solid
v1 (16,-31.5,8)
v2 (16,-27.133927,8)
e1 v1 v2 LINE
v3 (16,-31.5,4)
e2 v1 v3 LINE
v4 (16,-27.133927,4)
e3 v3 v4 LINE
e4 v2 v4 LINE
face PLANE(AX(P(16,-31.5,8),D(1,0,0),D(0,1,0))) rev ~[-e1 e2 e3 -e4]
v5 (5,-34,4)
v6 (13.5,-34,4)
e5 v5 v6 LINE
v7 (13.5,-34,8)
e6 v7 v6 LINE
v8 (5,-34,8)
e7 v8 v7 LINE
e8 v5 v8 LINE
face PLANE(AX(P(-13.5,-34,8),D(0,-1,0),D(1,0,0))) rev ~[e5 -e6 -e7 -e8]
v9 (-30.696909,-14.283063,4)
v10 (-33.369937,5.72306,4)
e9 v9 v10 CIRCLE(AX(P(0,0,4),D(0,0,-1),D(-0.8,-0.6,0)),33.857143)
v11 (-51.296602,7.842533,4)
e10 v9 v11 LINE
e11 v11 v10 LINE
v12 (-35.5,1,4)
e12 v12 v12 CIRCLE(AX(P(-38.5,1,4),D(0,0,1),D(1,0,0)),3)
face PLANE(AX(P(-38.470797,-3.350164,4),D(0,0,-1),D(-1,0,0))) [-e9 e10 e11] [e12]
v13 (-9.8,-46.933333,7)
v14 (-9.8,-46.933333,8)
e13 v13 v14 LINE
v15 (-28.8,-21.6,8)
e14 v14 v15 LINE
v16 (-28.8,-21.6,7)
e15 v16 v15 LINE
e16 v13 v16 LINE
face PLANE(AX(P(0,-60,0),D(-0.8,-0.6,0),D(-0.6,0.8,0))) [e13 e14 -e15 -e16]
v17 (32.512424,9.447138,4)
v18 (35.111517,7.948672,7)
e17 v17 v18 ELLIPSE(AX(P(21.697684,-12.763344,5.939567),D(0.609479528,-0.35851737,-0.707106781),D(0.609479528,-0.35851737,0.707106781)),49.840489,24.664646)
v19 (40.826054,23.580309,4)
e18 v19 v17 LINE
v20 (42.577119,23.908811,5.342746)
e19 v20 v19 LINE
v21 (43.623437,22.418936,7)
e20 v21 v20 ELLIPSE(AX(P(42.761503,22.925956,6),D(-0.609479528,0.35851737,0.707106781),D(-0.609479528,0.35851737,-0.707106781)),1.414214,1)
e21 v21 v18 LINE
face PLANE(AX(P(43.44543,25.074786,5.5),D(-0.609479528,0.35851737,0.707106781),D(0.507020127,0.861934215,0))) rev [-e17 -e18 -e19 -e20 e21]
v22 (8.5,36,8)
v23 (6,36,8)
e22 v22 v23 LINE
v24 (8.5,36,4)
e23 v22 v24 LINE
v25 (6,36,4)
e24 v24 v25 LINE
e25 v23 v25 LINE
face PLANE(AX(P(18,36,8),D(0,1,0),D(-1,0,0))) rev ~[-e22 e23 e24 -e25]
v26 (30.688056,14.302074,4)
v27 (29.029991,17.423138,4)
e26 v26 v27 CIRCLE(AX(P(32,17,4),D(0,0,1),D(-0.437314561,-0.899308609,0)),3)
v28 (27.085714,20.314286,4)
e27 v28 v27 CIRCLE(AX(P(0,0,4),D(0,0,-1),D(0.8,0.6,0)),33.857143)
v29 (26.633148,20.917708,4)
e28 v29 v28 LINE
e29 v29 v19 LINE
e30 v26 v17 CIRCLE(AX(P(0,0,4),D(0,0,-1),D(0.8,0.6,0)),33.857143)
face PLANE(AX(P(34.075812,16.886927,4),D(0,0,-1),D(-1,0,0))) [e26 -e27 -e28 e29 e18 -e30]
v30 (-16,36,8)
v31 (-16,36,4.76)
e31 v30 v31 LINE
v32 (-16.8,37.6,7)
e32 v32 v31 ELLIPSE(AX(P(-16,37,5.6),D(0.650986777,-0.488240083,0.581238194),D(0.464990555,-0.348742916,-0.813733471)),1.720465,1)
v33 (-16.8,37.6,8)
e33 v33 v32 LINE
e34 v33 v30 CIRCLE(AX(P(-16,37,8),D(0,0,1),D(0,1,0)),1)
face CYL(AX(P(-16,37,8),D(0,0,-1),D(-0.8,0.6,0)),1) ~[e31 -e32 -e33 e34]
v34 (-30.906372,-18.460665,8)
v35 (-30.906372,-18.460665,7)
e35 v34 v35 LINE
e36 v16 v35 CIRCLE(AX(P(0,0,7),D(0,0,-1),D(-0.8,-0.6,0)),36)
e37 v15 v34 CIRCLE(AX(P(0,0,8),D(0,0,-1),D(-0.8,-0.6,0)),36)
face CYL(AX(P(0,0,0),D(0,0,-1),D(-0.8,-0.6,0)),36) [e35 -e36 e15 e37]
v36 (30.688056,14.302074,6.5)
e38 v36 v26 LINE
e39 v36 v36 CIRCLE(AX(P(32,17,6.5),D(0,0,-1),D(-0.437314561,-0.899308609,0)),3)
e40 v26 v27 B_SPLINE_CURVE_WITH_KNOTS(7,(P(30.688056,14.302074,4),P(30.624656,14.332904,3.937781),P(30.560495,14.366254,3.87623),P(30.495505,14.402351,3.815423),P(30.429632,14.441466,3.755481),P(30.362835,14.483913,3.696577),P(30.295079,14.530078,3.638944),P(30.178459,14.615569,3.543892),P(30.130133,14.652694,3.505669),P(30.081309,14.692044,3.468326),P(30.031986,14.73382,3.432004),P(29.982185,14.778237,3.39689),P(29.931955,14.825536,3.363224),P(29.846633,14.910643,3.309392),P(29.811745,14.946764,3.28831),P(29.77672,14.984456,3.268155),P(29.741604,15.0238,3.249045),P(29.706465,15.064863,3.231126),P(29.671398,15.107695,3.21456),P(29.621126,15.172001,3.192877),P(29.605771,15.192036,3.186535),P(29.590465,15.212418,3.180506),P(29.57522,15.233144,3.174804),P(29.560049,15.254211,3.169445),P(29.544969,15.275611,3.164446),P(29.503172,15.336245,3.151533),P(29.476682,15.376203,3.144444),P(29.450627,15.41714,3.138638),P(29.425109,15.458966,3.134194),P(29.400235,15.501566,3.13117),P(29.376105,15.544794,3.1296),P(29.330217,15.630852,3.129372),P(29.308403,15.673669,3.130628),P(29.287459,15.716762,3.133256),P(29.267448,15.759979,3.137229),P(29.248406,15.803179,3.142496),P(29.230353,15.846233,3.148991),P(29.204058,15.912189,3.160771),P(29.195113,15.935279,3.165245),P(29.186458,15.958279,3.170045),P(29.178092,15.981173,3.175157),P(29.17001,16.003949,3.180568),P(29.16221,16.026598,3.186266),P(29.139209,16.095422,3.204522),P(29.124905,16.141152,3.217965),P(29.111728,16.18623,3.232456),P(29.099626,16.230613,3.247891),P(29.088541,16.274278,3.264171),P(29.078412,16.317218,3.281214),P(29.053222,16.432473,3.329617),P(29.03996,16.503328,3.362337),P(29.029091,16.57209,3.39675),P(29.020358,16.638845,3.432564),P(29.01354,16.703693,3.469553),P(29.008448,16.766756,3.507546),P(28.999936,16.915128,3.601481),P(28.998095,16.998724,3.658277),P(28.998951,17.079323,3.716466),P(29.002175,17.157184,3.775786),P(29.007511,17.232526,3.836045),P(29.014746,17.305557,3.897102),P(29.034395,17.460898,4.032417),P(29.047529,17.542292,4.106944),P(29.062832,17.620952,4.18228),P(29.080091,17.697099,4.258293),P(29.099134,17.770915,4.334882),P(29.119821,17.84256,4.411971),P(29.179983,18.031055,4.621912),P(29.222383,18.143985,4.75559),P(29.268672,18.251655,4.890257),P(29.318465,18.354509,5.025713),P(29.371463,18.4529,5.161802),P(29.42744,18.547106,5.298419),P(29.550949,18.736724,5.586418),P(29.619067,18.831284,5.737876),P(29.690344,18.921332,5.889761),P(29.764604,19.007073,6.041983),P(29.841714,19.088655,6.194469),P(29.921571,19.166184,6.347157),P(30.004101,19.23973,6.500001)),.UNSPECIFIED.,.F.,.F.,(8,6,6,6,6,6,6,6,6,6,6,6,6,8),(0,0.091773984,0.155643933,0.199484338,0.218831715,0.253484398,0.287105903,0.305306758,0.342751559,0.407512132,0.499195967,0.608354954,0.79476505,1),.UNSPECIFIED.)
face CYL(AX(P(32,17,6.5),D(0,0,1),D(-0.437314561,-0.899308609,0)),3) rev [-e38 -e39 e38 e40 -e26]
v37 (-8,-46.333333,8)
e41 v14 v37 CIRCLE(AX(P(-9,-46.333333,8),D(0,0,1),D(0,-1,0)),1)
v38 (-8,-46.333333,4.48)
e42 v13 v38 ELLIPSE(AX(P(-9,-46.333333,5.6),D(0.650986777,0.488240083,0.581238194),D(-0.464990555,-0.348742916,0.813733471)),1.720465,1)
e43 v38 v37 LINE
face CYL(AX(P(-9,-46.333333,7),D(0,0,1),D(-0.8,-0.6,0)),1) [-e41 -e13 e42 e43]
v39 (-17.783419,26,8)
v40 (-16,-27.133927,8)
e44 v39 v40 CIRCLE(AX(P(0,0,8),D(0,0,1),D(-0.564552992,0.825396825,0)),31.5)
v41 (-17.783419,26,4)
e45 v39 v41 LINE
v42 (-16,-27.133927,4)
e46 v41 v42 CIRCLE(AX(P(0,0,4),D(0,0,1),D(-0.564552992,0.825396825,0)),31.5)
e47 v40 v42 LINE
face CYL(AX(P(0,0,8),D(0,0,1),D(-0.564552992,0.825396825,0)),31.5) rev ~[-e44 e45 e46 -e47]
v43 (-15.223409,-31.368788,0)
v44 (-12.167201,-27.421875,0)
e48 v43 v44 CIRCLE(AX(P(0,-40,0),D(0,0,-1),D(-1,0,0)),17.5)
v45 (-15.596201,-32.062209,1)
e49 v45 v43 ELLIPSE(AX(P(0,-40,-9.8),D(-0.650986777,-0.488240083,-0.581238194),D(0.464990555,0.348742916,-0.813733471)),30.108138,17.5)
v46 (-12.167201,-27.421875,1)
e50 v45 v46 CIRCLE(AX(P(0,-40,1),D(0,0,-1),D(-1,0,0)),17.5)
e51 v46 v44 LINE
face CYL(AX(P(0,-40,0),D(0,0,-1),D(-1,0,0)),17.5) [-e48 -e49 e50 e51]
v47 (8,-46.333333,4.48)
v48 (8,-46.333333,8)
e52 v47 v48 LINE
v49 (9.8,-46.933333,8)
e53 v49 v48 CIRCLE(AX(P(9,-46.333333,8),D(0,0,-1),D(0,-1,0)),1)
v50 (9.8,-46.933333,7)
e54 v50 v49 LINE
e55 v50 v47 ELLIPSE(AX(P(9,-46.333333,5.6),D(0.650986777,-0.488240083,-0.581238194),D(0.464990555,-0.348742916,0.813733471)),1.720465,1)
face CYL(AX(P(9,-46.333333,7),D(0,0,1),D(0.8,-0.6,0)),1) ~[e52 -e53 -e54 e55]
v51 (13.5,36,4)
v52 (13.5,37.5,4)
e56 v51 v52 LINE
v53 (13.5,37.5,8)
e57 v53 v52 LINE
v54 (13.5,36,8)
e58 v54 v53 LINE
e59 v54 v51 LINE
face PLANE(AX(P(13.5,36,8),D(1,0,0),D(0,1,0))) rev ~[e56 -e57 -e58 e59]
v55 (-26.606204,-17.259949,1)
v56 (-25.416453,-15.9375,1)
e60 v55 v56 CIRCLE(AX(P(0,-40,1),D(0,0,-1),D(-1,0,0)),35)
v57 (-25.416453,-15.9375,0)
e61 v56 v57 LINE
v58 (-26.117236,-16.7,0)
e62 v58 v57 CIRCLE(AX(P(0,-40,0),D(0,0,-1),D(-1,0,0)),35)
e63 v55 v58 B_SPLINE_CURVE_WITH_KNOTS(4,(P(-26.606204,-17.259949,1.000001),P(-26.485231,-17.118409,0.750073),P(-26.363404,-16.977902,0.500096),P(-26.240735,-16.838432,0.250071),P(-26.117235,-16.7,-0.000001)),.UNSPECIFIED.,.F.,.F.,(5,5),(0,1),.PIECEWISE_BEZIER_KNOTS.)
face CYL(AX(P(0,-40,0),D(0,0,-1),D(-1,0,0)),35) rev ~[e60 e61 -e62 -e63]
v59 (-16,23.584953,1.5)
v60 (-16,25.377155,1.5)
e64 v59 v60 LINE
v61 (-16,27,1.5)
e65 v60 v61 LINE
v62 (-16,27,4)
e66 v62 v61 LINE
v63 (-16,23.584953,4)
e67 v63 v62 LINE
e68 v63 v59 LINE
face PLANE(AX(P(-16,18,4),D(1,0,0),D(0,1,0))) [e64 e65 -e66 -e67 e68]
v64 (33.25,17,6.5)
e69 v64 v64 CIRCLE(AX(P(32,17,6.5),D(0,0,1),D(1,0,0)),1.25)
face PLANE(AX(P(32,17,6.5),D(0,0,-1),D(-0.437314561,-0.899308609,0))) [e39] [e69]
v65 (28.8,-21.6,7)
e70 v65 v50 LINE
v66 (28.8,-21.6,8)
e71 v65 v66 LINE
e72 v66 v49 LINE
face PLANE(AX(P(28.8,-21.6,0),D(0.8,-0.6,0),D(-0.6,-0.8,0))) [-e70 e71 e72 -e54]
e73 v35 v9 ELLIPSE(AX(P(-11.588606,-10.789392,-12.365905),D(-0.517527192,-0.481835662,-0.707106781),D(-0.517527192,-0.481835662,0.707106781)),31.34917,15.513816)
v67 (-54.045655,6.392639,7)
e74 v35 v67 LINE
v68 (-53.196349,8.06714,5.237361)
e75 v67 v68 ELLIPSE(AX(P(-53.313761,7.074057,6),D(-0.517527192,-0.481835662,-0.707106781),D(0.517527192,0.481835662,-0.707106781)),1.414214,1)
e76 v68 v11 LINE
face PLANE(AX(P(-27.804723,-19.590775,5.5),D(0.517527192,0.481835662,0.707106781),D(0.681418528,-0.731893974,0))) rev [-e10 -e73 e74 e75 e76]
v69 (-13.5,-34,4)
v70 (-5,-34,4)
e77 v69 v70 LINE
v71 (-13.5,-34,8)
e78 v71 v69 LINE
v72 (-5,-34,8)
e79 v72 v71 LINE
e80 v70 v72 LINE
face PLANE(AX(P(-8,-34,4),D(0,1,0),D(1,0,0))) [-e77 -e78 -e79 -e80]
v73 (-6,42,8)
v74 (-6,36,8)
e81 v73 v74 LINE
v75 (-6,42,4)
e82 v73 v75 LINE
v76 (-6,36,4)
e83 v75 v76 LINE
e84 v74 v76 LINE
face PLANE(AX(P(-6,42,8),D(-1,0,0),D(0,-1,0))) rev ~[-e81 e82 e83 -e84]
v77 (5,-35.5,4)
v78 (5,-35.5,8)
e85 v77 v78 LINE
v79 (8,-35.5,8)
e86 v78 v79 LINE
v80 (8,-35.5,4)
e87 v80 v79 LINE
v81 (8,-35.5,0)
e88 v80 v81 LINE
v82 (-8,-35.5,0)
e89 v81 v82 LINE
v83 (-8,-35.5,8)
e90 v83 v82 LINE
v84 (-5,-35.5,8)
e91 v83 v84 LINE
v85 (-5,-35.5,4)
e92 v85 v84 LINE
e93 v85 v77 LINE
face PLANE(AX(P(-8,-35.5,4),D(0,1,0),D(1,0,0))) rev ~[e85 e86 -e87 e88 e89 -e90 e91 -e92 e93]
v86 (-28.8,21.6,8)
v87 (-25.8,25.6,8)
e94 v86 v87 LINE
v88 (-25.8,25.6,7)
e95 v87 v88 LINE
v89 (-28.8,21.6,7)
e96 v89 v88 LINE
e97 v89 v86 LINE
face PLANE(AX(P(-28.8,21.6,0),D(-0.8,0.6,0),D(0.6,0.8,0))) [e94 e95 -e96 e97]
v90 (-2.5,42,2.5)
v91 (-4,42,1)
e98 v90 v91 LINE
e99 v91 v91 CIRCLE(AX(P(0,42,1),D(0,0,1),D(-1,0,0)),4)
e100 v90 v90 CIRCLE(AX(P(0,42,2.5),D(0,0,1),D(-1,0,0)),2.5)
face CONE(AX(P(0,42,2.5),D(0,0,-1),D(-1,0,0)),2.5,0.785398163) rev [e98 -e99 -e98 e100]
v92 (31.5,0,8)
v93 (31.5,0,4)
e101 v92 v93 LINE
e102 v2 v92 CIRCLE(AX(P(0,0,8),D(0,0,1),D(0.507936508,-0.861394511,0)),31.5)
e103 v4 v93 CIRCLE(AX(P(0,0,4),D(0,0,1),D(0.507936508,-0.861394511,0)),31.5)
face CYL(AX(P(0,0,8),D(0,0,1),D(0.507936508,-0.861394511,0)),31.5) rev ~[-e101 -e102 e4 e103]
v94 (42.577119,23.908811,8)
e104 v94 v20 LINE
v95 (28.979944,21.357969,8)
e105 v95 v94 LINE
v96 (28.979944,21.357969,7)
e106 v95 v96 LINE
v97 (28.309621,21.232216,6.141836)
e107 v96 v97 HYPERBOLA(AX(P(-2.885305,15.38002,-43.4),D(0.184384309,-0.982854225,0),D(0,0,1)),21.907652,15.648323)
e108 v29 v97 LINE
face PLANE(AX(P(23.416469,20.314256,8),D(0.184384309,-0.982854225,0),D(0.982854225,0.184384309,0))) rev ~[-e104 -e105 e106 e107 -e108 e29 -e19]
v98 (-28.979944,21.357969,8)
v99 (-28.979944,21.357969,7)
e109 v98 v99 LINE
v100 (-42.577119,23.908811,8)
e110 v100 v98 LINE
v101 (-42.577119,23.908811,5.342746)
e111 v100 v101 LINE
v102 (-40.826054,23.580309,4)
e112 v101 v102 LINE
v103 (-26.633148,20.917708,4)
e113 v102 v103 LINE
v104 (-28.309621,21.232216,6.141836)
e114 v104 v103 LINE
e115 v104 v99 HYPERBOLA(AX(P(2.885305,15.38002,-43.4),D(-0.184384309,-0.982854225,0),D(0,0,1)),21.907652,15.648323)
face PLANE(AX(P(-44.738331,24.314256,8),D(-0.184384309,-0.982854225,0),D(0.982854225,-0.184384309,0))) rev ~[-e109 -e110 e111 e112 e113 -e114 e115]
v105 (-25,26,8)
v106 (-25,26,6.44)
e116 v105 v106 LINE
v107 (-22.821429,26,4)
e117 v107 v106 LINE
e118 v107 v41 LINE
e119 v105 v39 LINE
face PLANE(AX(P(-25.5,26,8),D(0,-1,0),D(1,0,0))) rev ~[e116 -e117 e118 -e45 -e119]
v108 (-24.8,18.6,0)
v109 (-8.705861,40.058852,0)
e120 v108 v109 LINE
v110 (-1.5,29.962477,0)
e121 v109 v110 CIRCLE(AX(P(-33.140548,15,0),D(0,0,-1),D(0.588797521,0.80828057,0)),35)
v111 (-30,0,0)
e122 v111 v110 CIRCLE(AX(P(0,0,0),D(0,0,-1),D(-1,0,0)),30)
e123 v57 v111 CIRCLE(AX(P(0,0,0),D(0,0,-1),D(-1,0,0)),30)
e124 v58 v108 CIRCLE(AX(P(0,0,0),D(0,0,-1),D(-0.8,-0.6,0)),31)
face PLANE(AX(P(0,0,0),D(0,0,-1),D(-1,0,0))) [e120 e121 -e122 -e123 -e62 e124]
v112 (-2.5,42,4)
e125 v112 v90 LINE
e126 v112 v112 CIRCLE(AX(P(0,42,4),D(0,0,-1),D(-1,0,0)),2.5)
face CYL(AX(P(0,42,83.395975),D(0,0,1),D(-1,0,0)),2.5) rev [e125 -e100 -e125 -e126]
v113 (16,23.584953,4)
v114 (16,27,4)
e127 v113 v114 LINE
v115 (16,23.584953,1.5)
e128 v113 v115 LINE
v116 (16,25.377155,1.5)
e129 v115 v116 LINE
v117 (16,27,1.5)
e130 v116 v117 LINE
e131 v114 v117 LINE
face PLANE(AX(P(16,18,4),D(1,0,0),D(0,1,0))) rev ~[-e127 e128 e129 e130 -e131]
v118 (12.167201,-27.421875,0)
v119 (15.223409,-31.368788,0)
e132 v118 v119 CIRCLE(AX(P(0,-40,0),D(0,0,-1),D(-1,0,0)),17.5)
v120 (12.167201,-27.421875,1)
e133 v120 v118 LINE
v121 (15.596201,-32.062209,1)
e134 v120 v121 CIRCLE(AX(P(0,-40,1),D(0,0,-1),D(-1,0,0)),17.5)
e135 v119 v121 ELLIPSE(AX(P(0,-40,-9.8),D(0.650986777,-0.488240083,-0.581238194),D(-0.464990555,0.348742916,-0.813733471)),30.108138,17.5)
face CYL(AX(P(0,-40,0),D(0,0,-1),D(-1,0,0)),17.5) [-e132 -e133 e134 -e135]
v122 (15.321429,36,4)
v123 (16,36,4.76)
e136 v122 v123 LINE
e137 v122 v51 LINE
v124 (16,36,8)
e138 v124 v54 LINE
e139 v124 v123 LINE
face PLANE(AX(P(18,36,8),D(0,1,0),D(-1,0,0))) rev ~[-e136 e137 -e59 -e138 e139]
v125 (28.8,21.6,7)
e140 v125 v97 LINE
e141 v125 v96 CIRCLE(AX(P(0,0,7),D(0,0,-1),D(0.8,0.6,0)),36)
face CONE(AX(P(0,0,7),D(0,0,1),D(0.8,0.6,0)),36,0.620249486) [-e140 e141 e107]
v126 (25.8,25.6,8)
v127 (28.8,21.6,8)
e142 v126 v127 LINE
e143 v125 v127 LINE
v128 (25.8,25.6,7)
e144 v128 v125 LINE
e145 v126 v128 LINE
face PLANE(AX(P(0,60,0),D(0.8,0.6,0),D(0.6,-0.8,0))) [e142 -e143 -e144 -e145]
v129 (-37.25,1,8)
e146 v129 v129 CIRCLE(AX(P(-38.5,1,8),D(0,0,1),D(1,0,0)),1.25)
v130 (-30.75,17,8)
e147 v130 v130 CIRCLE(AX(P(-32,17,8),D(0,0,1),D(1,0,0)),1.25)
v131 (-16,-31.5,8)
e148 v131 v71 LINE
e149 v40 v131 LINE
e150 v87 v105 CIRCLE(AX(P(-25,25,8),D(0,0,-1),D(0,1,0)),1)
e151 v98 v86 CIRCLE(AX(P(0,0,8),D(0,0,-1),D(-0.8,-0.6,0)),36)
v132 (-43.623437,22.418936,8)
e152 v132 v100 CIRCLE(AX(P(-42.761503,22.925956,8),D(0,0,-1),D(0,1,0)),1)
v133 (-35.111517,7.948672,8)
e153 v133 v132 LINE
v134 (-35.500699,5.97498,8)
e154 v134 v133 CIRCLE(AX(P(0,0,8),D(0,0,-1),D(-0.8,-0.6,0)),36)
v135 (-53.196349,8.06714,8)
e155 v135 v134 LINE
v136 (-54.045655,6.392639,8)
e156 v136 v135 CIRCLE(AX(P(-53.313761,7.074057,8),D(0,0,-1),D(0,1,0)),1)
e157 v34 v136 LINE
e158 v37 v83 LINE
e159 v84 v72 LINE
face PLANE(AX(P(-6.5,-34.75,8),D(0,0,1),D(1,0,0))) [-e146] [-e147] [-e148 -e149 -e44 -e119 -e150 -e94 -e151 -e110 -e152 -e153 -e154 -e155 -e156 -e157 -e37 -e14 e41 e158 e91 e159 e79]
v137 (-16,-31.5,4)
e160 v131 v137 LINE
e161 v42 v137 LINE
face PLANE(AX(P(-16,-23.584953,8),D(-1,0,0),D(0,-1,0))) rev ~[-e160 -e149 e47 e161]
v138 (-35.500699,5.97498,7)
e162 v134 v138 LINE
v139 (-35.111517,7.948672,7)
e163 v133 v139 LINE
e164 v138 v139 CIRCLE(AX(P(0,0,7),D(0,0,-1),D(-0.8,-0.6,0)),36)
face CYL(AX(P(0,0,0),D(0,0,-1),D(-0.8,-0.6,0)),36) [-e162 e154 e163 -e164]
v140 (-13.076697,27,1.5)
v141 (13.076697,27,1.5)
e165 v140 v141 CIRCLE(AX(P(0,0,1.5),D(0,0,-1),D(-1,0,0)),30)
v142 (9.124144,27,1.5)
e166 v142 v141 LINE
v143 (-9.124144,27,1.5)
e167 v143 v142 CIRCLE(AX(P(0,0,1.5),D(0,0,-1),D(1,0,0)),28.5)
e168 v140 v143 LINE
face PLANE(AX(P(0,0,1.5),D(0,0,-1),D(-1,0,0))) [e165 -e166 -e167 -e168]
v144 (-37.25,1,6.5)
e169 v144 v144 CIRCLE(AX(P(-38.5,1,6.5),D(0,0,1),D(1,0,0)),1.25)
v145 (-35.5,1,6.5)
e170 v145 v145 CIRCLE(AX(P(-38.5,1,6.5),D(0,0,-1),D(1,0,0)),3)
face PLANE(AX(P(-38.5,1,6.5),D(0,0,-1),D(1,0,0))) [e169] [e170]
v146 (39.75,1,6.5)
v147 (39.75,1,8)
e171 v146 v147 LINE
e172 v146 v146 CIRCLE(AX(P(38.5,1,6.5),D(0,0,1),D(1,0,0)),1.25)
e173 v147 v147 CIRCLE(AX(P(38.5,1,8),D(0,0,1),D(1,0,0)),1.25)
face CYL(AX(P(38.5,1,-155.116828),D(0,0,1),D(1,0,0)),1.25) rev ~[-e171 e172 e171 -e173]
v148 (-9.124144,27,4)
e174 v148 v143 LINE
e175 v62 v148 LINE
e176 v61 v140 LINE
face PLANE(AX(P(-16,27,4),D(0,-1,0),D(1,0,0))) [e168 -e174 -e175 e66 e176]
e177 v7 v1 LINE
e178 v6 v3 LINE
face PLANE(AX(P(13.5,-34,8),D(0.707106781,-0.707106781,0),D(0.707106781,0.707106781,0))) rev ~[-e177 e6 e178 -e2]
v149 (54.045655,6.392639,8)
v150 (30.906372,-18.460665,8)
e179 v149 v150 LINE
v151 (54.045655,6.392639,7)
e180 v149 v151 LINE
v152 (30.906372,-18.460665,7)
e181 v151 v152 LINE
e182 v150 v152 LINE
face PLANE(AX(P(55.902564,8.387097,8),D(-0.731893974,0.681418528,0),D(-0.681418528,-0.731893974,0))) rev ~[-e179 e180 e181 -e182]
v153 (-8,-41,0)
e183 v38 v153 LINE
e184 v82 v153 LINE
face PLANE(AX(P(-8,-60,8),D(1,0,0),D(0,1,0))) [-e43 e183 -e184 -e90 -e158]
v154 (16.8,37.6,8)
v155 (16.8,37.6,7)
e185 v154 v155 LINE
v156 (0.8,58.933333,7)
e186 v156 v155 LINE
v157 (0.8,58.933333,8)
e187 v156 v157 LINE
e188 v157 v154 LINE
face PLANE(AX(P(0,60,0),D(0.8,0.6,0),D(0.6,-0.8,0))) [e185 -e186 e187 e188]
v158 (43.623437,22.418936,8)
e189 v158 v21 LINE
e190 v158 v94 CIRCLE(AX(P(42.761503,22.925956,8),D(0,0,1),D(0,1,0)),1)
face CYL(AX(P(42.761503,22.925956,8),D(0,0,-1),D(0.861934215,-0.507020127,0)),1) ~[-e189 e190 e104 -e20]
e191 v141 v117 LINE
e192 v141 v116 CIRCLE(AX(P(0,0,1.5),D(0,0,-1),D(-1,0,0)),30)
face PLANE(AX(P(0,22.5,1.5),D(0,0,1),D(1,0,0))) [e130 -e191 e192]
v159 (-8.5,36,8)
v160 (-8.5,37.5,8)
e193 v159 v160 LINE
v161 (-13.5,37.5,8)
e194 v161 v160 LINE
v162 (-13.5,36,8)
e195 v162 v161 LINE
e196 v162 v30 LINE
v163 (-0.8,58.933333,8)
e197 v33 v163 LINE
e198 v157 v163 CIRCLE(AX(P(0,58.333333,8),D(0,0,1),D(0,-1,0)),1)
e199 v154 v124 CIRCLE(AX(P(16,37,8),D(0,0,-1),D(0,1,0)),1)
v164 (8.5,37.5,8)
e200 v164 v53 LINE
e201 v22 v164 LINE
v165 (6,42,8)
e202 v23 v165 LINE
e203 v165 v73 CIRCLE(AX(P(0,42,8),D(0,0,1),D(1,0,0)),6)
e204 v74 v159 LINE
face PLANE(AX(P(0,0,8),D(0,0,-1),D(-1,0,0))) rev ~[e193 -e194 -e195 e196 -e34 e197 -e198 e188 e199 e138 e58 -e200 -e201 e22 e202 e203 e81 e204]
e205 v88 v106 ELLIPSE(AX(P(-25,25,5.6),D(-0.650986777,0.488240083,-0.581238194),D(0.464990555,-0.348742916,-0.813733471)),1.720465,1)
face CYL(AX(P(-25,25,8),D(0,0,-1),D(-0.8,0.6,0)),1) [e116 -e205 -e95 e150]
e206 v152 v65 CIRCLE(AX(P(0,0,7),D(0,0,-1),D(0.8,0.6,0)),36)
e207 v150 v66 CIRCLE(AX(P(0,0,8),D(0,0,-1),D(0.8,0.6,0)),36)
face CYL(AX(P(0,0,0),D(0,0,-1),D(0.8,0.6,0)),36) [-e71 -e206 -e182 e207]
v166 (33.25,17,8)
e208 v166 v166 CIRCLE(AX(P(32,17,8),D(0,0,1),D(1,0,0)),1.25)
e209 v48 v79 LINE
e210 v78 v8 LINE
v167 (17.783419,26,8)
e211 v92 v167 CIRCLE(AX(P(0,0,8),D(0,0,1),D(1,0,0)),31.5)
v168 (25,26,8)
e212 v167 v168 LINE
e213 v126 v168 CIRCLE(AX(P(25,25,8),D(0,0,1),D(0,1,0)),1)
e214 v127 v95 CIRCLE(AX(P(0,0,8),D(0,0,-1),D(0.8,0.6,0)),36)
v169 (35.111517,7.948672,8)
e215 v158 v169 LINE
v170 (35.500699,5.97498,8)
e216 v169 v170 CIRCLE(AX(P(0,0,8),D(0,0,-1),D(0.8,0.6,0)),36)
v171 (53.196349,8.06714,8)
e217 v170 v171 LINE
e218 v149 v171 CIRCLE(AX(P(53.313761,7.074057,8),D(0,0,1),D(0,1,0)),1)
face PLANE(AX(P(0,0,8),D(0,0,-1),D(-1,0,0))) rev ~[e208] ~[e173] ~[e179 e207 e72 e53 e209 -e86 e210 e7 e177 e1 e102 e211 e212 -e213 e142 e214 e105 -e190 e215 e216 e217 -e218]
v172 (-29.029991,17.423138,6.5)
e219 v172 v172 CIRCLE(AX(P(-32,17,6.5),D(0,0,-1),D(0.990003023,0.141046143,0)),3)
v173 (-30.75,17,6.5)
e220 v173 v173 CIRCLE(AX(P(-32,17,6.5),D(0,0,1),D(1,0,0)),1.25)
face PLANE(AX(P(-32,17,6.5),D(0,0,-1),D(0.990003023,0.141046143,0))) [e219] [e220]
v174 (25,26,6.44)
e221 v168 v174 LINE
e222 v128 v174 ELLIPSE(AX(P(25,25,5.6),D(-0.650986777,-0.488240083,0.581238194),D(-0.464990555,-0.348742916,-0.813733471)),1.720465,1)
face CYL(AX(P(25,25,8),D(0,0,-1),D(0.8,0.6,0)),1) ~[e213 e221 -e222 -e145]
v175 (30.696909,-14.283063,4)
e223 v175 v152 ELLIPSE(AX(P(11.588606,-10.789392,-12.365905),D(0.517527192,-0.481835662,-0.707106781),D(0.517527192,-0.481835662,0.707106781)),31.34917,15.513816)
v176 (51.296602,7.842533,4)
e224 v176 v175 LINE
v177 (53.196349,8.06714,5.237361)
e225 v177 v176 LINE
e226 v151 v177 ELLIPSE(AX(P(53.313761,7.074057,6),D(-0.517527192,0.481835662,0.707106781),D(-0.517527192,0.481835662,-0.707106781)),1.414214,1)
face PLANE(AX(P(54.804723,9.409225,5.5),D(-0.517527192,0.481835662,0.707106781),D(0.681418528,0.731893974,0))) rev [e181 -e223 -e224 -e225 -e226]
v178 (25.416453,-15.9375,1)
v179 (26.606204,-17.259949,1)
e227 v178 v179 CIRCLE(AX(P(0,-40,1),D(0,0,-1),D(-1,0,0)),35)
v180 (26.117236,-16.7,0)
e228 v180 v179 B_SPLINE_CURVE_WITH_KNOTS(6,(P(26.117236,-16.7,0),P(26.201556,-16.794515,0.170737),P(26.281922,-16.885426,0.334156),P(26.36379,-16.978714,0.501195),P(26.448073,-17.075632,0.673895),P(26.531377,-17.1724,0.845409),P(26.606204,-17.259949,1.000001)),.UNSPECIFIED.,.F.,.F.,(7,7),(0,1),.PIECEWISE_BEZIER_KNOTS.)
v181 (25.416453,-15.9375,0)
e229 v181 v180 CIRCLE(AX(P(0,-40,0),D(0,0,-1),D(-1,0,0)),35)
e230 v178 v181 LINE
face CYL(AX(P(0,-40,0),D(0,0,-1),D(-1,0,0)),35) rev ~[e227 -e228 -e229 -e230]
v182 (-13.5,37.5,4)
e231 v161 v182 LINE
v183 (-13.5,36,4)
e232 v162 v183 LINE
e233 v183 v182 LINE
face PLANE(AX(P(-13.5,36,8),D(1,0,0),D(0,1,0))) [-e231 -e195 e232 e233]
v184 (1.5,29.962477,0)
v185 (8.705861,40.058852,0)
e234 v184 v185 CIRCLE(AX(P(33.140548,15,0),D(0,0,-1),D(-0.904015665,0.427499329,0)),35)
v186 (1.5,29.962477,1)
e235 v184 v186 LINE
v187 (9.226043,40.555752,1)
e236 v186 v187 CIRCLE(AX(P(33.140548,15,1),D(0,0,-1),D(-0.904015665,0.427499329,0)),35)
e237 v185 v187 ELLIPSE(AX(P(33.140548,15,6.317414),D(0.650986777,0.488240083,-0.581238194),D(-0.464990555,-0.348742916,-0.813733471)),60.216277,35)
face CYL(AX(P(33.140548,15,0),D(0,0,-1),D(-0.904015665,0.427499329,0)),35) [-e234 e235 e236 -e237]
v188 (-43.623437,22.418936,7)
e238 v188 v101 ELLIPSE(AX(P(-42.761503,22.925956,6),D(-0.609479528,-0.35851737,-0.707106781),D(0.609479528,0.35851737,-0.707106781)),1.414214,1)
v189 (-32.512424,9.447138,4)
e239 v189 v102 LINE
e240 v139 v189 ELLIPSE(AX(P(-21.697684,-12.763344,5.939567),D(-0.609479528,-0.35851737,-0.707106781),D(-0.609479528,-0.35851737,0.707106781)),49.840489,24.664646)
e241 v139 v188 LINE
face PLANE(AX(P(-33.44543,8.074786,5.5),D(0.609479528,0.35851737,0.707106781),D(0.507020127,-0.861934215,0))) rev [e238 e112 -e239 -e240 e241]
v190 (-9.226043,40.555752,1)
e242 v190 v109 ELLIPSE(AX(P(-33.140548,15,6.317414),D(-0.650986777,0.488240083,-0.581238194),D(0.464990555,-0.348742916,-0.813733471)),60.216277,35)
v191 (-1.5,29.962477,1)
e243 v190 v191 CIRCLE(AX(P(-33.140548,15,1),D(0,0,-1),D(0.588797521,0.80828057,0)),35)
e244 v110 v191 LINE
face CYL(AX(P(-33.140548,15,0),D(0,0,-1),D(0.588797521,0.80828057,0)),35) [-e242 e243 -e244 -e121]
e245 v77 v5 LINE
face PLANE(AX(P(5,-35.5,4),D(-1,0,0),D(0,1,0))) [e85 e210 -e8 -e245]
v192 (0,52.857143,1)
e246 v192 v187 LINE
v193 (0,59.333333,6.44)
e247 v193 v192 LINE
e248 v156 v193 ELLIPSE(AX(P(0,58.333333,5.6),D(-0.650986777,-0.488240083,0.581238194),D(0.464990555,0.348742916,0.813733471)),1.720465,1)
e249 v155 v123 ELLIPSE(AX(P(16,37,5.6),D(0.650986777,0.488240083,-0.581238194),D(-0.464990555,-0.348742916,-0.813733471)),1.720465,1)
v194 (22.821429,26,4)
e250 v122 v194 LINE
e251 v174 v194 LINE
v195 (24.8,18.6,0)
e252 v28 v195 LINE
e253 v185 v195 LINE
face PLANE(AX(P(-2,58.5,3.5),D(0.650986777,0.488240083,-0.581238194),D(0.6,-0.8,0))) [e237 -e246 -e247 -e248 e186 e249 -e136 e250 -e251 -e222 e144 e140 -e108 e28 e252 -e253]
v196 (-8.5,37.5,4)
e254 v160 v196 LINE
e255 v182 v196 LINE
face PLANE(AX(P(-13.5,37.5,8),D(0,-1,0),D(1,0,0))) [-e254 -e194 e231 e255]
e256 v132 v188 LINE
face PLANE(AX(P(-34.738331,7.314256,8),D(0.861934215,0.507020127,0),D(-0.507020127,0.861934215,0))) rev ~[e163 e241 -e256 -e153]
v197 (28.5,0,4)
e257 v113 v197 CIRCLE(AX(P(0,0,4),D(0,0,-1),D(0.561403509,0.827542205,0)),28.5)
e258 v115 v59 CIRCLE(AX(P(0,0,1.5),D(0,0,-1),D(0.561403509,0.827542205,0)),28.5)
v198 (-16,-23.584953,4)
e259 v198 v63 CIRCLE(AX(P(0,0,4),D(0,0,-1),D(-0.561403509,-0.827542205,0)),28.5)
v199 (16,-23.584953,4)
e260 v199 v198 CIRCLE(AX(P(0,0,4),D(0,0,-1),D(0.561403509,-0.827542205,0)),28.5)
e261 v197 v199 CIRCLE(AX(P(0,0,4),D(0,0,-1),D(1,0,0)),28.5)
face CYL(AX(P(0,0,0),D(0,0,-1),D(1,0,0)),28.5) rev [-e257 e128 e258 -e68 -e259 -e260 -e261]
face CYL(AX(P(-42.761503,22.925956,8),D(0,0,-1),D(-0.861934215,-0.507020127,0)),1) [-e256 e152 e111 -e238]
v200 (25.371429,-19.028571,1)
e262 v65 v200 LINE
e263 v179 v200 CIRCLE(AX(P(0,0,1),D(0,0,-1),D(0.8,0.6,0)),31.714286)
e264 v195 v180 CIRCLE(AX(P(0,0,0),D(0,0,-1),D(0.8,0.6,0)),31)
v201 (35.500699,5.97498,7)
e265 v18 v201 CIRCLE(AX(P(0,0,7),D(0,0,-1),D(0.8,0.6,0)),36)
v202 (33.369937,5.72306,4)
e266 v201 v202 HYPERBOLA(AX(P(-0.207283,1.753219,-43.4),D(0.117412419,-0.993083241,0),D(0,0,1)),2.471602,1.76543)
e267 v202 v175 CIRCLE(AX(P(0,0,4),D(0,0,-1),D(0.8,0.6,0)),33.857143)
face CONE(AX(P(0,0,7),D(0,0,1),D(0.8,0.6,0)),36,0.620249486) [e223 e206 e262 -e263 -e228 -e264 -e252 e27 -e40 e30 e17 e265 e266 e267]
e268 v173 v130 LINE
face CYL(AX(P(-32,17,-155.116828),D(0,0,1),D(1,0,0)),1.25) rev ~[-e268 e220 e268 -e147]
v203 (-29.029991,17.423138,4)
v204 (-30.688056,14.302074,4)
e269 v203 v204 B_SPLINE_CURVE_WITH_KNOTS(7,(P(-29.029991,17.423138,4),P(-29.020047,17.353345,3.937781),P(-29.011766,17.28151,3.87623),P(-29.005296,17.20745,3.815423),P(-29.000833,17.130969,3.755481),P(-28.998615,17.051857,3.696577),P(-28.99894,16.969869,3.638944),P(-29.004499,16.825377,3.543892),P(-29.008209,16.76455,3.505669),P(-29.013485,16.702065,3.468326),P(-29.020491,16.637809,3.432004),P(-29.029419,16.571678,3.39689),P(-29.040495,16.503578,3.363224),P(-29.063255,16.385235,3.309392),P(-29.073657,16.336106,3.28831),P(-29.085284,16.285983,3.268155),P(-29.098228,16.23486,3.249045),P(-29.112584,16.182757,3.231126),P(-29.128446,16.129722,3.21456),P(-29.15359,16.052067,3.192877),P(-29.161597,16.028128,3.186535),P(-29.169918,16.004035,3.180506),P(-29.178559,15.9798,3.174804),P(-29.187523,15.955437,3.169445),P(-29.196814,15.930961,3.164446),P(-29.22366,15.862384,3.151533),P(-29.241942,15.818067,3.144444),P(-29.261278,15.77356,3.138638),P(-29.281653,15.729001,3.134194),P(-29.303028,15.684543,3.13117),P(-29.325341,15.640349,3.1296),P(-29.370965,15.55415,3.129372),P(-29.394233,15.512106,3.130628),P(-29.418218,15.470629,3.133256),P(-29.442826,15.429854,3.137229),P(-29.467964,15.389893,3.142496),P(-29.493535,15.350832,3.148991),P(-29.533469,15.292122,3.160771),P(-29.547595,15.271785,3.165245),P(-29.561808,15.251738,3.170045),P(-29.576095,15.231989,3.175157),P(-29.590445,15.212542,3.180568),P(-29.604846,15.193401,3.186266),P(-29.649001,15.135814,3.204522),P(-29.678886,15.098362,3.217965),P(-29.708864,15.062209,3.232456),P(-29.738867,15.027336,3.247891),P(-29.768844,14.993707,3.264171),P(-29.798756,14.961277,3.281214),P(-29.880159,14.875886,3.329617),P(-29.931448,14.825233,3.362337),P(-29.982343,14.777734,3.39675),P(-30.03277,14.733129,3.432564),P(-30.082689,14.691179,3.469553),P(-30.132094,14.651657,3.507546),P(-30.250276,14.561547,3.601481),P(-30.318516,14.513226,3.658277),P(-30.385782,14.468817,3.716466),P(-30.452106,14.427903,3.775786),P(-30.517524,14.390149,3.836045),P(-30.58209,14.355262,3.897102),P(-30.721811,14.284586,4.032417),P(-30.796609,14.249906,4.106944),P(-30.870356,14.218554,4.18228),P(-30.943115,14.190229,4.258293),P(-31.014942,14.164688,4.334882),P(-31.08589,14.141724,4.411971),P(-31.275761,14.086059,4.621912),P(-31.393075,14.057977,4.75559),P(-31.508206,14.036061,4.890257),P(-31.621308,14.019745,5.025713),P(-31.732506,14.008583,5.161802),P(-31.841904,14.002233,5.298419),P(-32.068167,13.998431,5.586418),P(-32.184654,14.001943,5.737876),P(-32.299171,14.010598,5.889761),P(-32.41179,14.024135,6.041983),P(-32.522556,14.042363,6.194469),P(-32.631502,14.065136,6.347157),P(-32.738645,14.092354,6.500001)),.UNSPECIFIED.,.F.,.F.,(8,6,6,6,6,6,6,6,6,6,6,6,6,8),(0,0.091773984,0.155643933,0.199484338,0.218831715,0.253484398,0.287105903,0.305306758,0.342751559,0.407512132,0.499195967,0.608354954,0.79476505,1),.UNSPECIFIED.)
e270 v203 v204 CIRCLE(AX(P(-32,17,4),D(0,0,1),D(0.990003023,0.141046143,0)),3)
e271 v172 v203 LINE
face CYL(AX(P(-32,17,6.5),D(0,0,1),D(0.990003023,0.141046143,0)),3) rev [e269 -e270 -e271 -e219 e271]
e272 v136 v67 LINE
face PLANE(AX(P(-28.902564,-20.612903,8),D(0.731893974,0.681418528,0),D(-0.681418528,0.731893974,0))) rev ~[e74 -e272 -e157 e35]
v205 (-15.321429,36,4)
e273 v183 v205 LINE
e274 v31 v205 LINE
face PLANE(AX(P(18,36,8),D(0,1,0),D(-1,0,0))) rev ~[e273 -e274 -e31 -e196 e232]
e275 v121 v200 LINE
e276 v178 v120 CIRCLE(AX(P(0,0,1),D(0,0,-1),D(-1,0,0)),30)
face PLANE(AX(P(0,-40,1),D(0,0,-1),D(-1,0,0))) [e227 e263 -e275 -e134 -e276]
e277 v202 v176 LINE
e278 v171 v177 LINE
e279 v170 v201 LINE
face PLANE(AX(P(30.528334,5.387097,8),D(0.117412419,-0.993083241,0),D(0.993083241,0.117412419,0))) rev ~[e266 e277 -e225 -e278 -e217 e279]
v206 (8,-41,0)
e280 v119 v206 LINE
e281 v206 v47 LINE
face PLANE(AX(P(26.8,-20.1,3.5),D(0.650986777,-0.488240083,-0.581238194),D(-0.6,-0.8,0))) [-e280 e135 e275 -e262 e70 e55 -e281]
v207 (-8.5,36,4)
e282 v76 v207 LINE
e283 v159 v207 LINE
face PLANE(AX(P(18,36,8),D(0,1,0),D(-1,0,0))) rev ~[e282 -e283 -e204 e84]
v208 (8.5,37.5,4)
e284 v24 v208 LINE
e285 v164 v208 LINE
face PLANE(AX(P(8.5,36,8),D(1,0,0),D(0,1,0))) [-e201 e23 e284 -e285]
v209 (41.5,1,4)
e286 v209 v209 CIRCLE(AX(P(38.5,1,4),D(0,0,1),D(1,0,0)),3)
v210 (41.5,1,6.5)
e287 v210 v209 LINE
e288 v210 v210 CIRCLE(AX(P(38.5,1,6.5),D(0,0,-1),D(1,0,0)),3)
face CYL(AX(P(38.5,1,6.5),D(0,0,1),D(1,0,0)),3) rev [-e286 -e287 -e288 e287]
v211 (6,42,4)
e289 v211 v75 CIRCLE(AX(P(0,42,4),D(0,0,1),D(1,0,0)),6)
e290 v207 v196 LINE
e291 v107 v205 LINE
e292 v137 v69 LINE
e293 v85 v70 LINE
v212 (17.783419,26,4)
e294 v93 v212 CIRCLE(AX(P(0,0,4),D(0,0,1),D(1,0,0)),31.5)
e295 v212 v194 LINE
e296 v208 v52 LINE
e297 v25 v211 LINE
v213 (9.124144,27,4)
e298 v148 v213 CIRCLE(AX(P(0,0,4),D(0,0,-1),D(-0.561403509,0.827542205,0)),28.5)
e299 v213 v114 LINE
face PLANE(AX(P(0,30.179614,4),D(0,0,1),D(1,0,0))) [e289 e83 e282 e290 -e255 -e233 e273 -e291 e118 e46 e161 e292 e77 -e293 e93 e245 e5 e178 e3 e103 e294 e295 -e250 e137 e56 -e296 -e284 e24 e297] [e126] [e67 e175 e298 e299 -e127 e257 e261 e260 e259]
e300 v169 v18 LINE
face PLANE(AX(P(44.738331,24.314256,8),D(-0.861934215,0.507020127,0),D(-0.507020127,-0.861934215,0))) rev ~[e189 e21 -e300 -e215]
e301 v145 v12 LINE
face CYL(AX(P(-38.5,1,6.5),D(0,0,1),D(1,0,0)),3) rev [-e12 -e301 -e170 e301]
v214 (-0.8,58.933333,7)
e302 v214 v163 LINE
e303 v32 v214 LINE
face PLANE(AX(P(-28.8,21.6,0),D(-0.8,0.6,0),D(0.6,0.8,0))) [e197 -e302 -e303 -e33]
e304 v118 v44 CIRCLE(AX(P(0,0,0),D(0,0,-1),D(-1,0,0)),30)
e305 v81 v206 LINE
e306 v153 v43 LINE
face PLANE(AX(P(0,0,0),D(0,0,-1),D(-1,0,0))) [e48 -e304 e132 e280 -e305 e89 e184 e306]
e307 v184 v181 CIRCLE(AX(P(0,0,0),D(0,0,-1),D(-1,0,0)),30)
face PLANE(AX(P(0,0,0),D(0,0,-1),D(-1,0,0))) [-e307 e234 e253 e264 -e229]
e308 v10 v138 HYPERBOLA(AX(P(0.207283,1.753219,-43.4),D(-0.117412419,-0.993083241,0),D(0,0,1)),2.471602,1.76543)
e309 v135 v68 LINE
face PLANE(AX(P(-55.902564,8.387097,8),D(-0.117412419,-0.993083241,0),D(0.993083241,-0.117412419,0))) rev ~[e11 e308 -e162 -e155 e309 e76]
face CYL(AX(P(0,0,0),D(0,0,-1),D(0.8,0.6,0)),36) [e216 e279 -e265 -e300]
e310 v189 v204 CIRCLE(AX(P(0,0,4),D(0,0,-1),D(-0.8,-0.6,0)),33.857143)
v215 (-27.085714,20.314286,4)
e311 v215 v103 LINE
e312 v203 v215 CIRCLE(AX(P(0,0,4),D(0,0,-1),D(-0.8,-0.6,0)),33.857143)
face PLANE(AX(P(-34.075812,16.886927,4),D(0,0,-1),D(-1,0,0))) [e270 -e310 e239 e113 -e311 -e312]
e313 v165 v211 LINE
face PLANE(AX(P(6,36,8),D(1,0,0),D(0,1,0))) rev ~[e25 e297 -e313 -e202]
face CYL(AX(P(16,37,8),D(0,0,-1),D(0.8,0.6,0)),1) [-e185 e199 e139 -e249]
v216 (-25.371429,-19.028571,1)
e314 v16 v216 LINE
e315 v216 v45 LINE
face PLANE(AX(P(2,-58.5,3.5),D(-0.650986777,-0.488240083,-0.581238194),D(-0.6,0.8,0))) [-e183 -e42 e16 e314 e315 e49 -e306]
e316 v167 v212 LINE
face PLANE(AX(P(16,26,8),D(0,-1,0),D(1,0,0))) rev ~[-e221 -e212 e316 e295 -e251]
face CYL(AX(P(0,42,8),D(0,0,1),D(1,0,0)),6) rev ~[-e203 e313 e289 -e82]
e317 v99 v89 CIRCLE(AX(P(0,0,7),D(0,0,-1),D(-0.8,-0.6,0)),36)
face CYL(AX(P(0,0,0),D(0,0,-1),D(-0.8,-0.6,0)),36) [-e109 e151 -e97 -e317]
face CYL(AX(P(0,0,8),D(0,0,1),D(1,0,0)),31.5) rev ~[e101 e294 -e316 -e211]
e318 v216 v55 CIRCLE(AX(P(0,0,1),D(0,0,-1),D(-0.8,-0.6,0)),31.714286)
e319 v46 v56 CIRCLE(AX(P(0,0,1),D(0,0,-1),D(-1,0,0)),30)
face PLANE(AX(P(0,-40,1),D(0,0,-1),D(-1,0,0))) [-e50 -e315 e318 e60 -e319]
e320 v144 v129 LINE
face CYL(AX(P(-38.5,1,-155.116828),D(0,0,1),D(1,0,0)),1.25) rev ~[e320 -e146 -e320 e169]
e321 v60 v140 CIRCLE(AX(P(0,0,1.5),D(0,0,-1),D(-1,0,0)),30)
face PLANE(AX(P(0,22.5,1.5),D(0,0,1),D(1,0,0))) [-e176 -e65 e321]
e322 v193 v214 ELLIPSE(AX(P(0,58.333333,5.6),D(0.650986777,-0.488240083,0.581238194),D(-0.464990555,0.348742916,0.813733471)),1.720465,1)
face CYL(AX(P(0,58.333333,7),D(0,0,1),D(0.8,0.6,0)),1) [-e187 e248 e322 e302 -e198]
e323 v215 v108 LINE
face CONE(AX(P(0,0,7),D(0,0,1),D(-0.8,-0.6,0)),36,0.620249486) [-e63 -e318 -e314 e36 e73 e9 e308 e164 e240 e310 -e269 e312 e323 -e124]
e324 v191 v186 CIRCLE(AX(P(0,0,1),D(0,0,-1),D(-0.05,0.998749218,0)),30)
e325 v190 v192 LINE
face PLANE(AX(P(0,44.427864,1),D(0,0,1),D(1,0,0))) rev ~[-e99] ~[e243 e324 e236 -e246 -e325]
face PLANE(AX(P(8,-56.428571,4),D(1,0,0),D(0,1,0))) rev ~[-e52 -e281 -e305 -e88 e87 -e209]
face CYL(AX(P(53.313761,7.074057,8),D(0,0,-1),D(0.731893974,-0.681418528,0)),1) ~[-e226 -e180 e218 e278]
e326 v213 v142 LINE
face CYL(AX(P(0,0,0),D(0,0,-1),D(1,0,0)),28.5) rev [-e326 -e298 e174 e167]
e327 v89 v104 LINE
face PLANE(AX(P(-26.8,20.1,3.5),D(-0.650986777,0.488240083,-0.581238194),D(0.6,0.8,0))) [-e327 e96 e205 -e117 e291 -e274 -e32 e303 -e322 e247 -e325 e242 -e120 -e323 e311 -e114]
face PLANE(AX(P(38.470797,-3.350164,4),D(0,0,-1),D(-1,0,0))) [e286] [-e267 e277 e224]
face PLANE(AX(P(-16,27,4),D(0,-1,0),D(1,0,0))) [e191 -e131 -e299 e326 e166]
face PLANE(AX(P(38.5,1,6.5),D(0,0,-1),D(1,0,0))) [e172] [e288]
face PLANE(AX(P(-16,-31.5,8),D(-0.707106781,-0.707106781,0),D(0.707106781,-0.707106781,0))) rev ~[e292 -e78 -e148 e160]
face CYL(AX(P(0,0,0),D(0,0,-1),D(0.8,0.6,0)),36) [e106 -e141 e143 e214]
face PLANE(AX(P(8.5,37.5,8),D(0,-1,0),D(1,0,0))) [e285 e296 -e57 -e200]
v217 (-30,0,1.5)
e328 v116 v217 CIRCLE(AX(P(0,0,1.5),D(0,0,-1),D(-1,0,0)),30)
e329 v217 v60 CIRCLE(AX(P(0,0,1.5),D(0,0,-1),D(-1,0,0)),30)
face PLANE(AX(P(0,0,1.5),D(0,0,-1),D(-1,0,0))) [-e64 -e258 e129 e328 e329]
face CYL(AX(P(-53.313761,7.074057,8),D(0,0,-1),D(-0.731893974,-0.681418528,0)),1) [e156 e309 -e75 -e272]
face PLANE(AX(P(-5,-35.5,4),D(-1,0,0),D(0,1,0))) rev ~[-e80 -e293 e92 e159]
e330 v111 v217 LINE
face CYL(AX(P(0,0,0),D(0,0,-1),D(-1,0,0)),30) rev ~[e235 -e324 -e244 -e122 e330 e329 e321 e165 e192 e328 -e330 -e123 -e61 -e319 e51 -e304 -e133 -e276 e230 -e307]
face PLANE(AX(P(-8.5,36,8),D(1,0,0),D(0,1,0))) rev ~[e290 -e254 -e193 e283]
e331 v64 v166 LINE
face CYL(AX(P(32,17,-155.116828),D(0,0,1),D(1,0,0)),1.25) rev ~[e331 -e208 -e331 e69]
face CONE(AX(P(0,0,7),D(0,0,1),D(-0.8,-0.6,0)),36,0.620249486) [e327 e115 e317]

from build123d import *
from OCP.BRepFilletAPI import BRepFilletAPI_MakeChamfer

# Parameters (mm, degrees)
SKETCH_1_R                = 28.5
EXTRUDE_1_DEPTH           = 8
CHAMFER_12_SIZE           = 7
CHAMFER_12_SIZE2          = 5
SKETCH_11_R               = 30
CUT_EXTRUDE_1_DEPTH       = 1.5
EXTRUDE_5_DEPTH           = 4
EXTRUDE_5_2_DEPTH         = 4
EXTRUDE_5_3_DEPTH         = 4
EXTRUDE_5_4_DEPTH         = 4
CHAMFER_13_SIZE           = 3
CHAMFER_14_SIZE           = 3
CHAMFER_15_SIZE           = 3
CHAMFER_16_SIZE           = 3
CUT_EXTRUDE_7_DEPTH       = 4
SKETCH_13_W               = 16
SKETCH_13_H               = 26
CUT_EXTRUDE_2_DEPTH       = 4
CUT_EXTRUDE_8_DEPTH       = 4
CUT_EXTRUDE_9_DEPTH       = 83.10418193
CUT_EXTRUDE_9_DEPTH_BACK  = 2.5
SKETCH_25_R               = 3
HOLE_WIZARD_2_5_2_5_1_D   = 2.5
CUT_EXTRUDE_10_DEPTH      = 83.395974965
CUT_EXTRUDE_10_DEPTH_BACK = 83.395974965
SKETCH_28_R               = 2.5
SKETCH_30_W               = 3
SKETCH_30_H               = 1.5
EXTRUDE_6_DEPTH           = 4
SKETCH_31_W               = 16
SKETCH_31_H               = 20.928571429
CUT_EXTRUDE_11_DEPTH      = 83.104181935
SKETCH_29_W               = 5
SKETCH_29_H               = 1.5
CUT_EXTRUDE_12_DEPTH      = 4
SKETCH_32_R               = 6
SKETCH_32_R_2             = 2.5
CUT_EXTRUDE_13_DEPTH      = 4
CUT_EXTRUDE_14_DEPTH      = 1
CHAMFER_19_SIZE           = 1.5
SKETCH_34_R               = 35
SKETCH_34_R_2             = 17.5
CUT_EXTRUDE_15_DEPTH      = 1
SKETCH_35_W               = 32
SKETCH_35_H               = 9
CUT_EXTRUDE_16_DEPTH      = 2.5
FILLET_1_R                = 1


with BuildPart() as part:
    # Эскиз1 → Бобышка-Вытянуть1 (new body)
    with BuildSketch(Plane.XY):
        with BuildLine():
            Line((0, 60), (28.8, 21.6))
            ThreePointArc((28.8, 21.6), (36, 0), (28.8, -21.6))
            Line((28.8, -21.6), (0, -60))
            Line((0, -60), (-28.8, -21.6))
            ThreePointArc((-28.8, -21.6), (-36, 0), (-28.8, 21.6))
            Line((-28.8, 21.6), (0, 60))
        make_face()
        Circle(SKETCH_1_R, mode=Mode.SUBTRACT)
    extrude(amount=EXTRUDE_1_DEPTH)

    # Фаска12: one chamfer whose edges measure the first distance from different faces: ONE call of the kernel's chamfer builder (chamfer() names one face for all edges)
    chamfer_12_edges_1 = [part.edges().sort_by_distance(p)[0] for p in [
        (36, 0, 0),
    ]]
    chamfer_12_side_1 = [part.faces().sort_by_distance(p)[0] for p in [
        (36, 0, 4),
    ]]
    chamfer_12_edges_2 = [part.edges().sort_by_distance(p)[0] for p in [
        (14.4, -40.8, 0),
    ]]
    chamfer_12_side_2 = [part.faces().sort_by_distance(p)[0] for p in [
        (14.4, -40.8, 4),
    ]]
    chamfer_12_edges_3 = [part.edges().sort_by_distance(p)[0] for p in [
        (-14.4, -40.8, 0),
    ]]
    chamfer_12_side_3 = [part.faces().sort_by_distance(p)[0] for p in [
        (-14.4, -40.8, 4),
    ]]
    chamfer_12_edges_4 = [part.edges().sort_by_distance(p)[0] for p in [
        (-36, 0, 0),
    ]]
    chamfer_12_side_4 = [part.faces().sort_by_distance(p)[0] for p in [
        (-36, 0, 4),
    ]]
    chamfer_12_edges_5 = [part.edges().sort_by_distance(p)[0] for p in [
        (-14.4, 40.8, 0),
    ]]
    chamfer_12_side_5 = [part.faces().sort_by_distance(p)[0] for p in [
        (-14.4, 40.8, 4),
    ]]
    chamfer_12_edges_6 = [part.edges().sort_by_distance(p)[0] for p in [
        (14.4, 40.8, 0),
    ]]
    chamfer_12_side_6 = [part.faces().sort_by_distance(p)[0] for p in [
        (14.4, 40.8, 4),
    ]]
    chamfer_12 = BRepFilletAPI_MakeChamfer(part.part.solid().wrapped)
    for e in chamfer_12_edges_1:
        chamfer_12.Add(CHAMFER_12_SIZE, CHAMFER_12_SIZE2, e.wrapped, chamfer_12_side_1[0].wrapped)  # the first distance lies on this face
    for e in chamfer_12_edges_2:
        chamfer_12.Add(CHAMFER_12_SIZE, CHAMFER_12_SIZE2, e.wrapped, chamfer_12_side_2[0].wrapped)  # the first distance lies on this face
    for e in chamfer_12_edges_3:
        chamfer_12.Add(CHAMFER_12_SIZE, CHAMFER_12_SIZE2, e.wrapped, chamfer_12_side_3[0].wrapped)  # the first distance lies on this face
    for e in chamfer_12_edges_4:
        chamfer_12.Add(CHAMFER_12_SIZE, CHAMFER_12_SIZE2, e.wrapped, chamfer_12_side_4[0].wrapped)  # the first distance lies on this face
    for e in chamfer_12_edges_5:
        chamfer_12.Add(CHAMFER_12_SIZE, CHAMFER_12_SIZE2, e.wrapped, chamfer_12_side_5[0].wrapped)  # the first distance lies on this face
    for e in chamfer_12_edges_6:
        chamfer_12.Add(CHAMFER_12_SIZE, CHAMFER_12_SIZE2, e.wrapped, chamfer_12_side_6[0].wrapped)  # the first distance lies on this face
    add(Compound.cast(chamfer_12.Shape()), mode=Mode.REPLACE)

    # Эскиз11 → Вырез-Вытянуть1 (cut)
    with BuildSketch(Plane(origin=(0, 0, 0), x_dir=(-1, 0, 0), z_dir=(0, 0, -1))):
        Circle(SKETCH_11_R)
    extrude(amount=-CUT_EXTRUDE_1_DEPTH, mode=Mode.SUBTRACT)


with BuildPart() as body_2:
    # Эскиз17 → Бобышка-Вытянуть5 (new body)
    with BuildSketch(Plane(origin=(0, 0, 8), x_dir=(-1, 0, 0), z_dir=(0, 0, -1))):
        with BuildLine():
            Line((25.238858928, -18), (28.902564257, -20.612903226))
            Line((28.902564257, -20.612903226), (55.902564257, 8.387096774))
            Line((55.902564257, 8.387096774), (30.528334189, 5.387096774))
            ThreePointArc((30.528334189, 5.387096774), (30.236303195, -6.838564841), (25.238858928, -18))
        make_face()
    extrude(amount=EXTRUDE_5_DEPTH)

    # Фаска13
    chamfer_13_edges = [body_2.edges().sort_by_distance(p)[0] for p in [
        (-42.402564257, -6.112903226, 4),
    ]]
    chamfer(chamfer_13_edges, length=CHAMFER_13_SIZE)


with BuildPart() as body_3:
    # Эскиз17 → Extrude 5 2 (new body)
    with BuildSketch(Plane(origin=(0, 0, 8), x_dir=(-1, 0, 0), z_dir=(0, 0, -1))):
        with BuildLine():
            Line((-28.902564257, -20.612903226), (-25.238858928, -18))
            ThreePointArc((-25.238858928, -18), (-30.236303195, -6.838564841), (-30.528334189, 5.387096774))
            Line((-30.528334189, 5.387096774), (-55.902564257, 8.387096774))
            Line((-55.902564257, 8.387096774), (-28.902564257, -20.612903226))
        make_face()
    extrude(amount=EXTRUDE_5_2_DEPTH)

    # Фаска14
    chamfer_14_edges = [body_3.edges().sort_by_distance(p)[0] for p in [
        (42.402564257, -6.112903226, 4),
    ]]
    chamfer(chamfer_14_edges, length=CHAMFER_14_SIZE)


with BuildPart() as body_4:
    # Эскиз17 → Extrude 5 3 (new body)
    with BuildSketch(Plane(origin=(0, 0, 8), x_dir=(-1, 0, 0), z_dir=(0, 0, -1))):
        with BuildLine():
            ThreePointArc((23.416468646, 20.314255983), (27.763165047, 13.791543298), (30.334880827, 6.387096774))
            Line((30.334880827, 6.387096774), (34.73833127, 7.314255983))
            Line((34.73833127, 7.314255983), (44.73833127, 24.314255983))
            Line((44.73833127, 24.314255983), (23.416468646, 20.314255983))
        make_face()
    extrude(amount=EXTRUDE_5_3_DEPTH)

    # Фаска16
    chamfer_16_edges = [body_4.edges().sort_by_distance(p)[0] for p in [
        (-39.73833127, 15.814255983, 4),
    ]]
    chamfer(chamfer_16_edges, length=CHAMFER_16_SIZE)


with BuildPart() as body_5:
    # Эскиз17 → Extrude 5 4 (new body)
    with BuildSketch(Plane(origin=(0, 0, 8), x_dir=(-1, 0, 0), z_dir=(0, 0, -1))):
        with BuildLine():
            Line((-34.73833127, 7.314255983), (-30.334880827, 6.387096774))
            ThreePointArc((-30.334880827, 6.387096774), (-27.763165047, 13.791543298), (-23.416468646, 20.314255983))
            Line((-23.416468646, 20.314255983), (-44.73833127, 24.314255983))
            Line((-44.73833127, 24.314255983), (-34.73833127, 7.314255983))
        make_face()
    extrude(amount=EXTRUDE_5_4_DEPTH)

    # Фаска15
    chamfer_15_edges = [body_5.edges().sort_by_distance(p)[0] for p in [
        (39.73833127, 15.814255983, 4),
    ]]
    chamfer(chamfer_15_edges, length=CHAMFER_15_SIZE)


with BuildPart() as body_2_1:
    add(body_2.part)

    # Combine 2: union body 3, body 5, body 4, part
    add(body_3.part)
    add(body_5.part)
    add(body_4.part)
    add(part.part)

    # Эскиз23 → Вырез-Вытянуть7 (cut)
    with BuildSketch(Plane.XY.offset(8)):
        with BuildLine():
            Line((13.5, -34), (16, -31.5))
            Line((16, -31.5), (16, -23.58495283))
            ThreePointArc((16, -23.58495283), (0, -28.5), (-16, -23.58495283))
            Line((-16, -23.58495283), (-16, -31.5))
            Line((-16, -31.5), (-13.5, -34))
            Line((-13.5, -34), (13.5, -34))
        make_face()
        with BuildLine():
            Line((16, 23.58495283), (16, 26))
            Line((16, 26), (25.5, 26))
            Line((25.5, 26), (18, 36))
            Line((18, 36), (-18, 36))
            Line((-18, 36), (-25.5, 26))
            Line((-25.5, 26), (-16, 26))
            Line((-16, 26), (-16, 23.58495283))
            ThreePointArc((-16, 23.58495283), (0, 28.5), (16, 23.58495283))
        make_face()
    extrude(amount=-CUT_EXTRUDE_7_DEPTH, mode=Mode.SUBTRACT)

    # Эскиз13 → Вырез-Вытянуть2 (cut)
    with BuildSketch(Plane.XY.offset(8)):
        with Locations((0, -47)):
            Rectangle(SKETCH_13_W, SKETCH_13_H)
    extrude(amount=-CUT_EXTRUDE_2_DEPTH, mode=Mode.SUBTRACT)

    # Эскиз24 → Вырез-Вытянуть8 (cut)
    with BuildSketch(Plane.XY.offset(8)):
        with BuildLine():
            Line((-16, 26), (-17.783419244, 26))
            ThreePointArc((-17.783419244, 26), (-31.482271301, -1.056689982), (-16, -27.133927102))
            Line((-16, -27.133927102), (-16, -23.58495283))
            ThreePointArc((-16, -23.58495283), (-28.5, 0), (-16, 23.58495283))
            Line((-16, 23.58495283), (-16, 26))
        make_face()
        with BuildLine():
            ThreePointArc((31.5, 0), (27.860614729, 14.698168148), (17.783419244, 26))
            Line((17.783419244, 26), (16, 26))
            Line((16, 26), (16, 23.58495283))
            ThreePointArc((16, 23.58495283), (25.181838694, 13.346347815), (28.5, 0))
            ThreePointArc((28.5, 0), (25.181838694, -13.346347815), (16, -23.58495283))
            Line((16, -23.58495283), (16, -27.133927102))
            ThreePointArc((16, -27.133927102), (27.351873793, -15.624499992), (31.5, 0))
        make_face()
    extrude(amount=-CUT_EXTRUDE_8_DEPTH, mode=Mode.SUBTRACT)

    # Эскиз25 → Вырез-Вытянуть9 (cut, two sides: drawn at the far end of the back side and taken through both)
    with BuildSketch(Plane(origin=(0, 0, 4), x_dir=(-1, 0, 0), z_dir=(0, 0, -1)).offset(-CUT_EXTRUDE_9_DEPTH_BACK)):
        with Locations(Location((-32, 17, 0), (0, 0, 295.932664692))):
            Circle(SKETCH_25_R)
        with Locations(Location((-38.5, 1, 0), (0, 0, 180))):
            Circle(SKETCH_25_R)
        with Locations(Location((32, 17, 0), (0, 0, 171.891613469))):
            Circle(SKETCH_25_R)
        with Locations(Location((38.5, 1, 0), (0, 0, 180))):
            Circle(SKETCH_25_R)
    extrude(amount=CUT_EXTRUDE_9_DEPTH + CUT_EXTRUDE_9_DEPTH_BACK, mode=Mode.SUBTRACT)

    # Диаметр отверстия Ø2.5 (2.5)1 (through all)
    with Locations(Plane(origin=(0, 0, 6.5), x_dir=(-1, 0, 0), z_dir=(0, 0, -1))):
        with Locations((-32, 17), (-38.5, 1), (32, 17), (38.5, 1)):
            Hole(HOLE_WIZARD_2_5_2_5_1_D / 2)

    # Эскиз28 → Вырез-Вытянуть10 (cut, two sides: drawn at the far end of the back side and taken through both)
    with BuildSketch(Plane(origin=(0, 0, 0), x_dir=(-1, 0, 0), z_dir=(0, 0, -1)).offset(-CUT_EXTRUDE_10_DEPTH_BACK)):
        with Locations((0, 42)):
            Circle(SKETCH_28_R)
    extrude(amount=CUT_EXTRUDE_10_DEPTH + CUT_EXTRUDE_10_DEPTH_BACK, mode=Mode.SUBTRACT)

    # Эскиз30 → Бобышка-Вытянуть6 (add)
    with BuildSketch(Plane.XY.offset(4)):
        with Locations((-6.5, -34.75)):
            Rectangle(SKETCH_30_W, SKETCH_30_H)
        with Locations((6.5, -34.75)):
            Rectangle(SKETCH_30_W, SKETCH_30_H)
    extrude(amount=EXTRUDE_6_DEPTH)

    # Эскиз31 → Вырез-Вытянуть11 (cut, through all)
    with BuildSketch(Plane.XY.offset(4)):
        with Locations((0, -45.964285715)):
            Rectangle(SKETCH_31_W, SKETCH_31_H)
    extrude(amount=-CUT_EXTRUDE_11_DEPTH, mode=Mode.SUBTRACT)

    # Эскиз29 → Вырез-Вытянуть12 (cut)
    with BuildSketch(Plane.XY.offset(8)):
        with Locations((-11, 36.75)):
            Rectangle(SKETCH_29_W, SKETCH_29_H)
        with Locations((11, 36.75)):
            Rectangle(SKETCH_29_W, SKETCH_29_H)
    extrude(amount=-CUT_EXTRUDE_12_DEPTH, mode=Mode.SUBTRACT)

    # Эскиз32 → Вырез-Вытянуть13 (cut)
    # profile 1 of 3: a face of its own
    with BuildSketch(Plane.XY.offset(8)):
        with Locations((0, 42)):
            Circle(SKETCH_32_R)
        with Locations((0, 42)):
            Circle(SKETCH_32_R_2, mode=Mode.SUBTRACT)
    # profile 2 of 3: a face of its own
    with BuildSketch(Plane.XY.offset(8)):
        with BuildLine():
            ThreePointArc((0, 36), (-4.242640687, 37.757359313), (-6, 42))
            Line((-6, 42), (-6, 36))
            Line((-6, 36), (0, 36))
        make_face()
    # profile 3 of 3: a face of its own
    with BuildSketch(Plane.XY.offset(8)):
        with BuildLine():
            Line((6, 36), (6, 42))
            ThreePointArc((6, 42), (4.242640687, 37.757359313), (0, 36))
            Line((0, 36), (6, 36))
        make_face()
    extrude(amount=-CUT_EXTRUDE_13_DEPTH, mode=Mode.SUBTRACT)

    # Эскиз33 → Вырез-Вытянуть14 (cut)
    with BuildSketch(Plane(origin=(0, 0, 0), x_dir=(-1, 0, 0), z_dir=(0, 0, -1))):
        with BuildLine():
            Line((-12.532635049, 43.289819934), (0, 60))
            Line((0, 60), (12.532635049, 43.289819934))
            ThreePointArc((12.532635049, 43.289819934), (6.179836993, 37.318603148), (1.5, 29.962476533))
            ThreePointArc((1.5, 29.962476533), (0, 30), (-1.5, 29.962476533))
            ThreePointArc((-1.5, 29.962476533), (-6.179836993, 37.318603148), (-12.532635049, 43.289819934))
        make_face()
    extrude(amount=-CUT_EXTRUDE_14_DEPTH, mode=Mode.SUBTRACT)

    # Фаска19
    chamfer_19_edges = [body_2_1.edges().sort_by_distance(p)[0] for p in [
        (2.5, 42, 1),
    ]]
    chamfer(chamfer_19_edges, length=CHAMFER_19_SIZE)

    # Эскиз34 → Вырез-Вытянуть15 (cut)
    with BuildSketch(Plane(origin=(0, 0, 0), x_dir=(-1, 0, 0), z_dir=(0, 0, -1))):
        with Locations((0, -40)):
            Circle(SKETCH_34_R)
        with Locations((0, -40)):
            Circle(SKETCH_34_R_2, mode=Mode.SUBTRACT)
    extrude(amount=-CUT_EXTRUDE_15_DEPTH, mode=Mode.SUBTRACT)

    # Эскиз35 → Вырез-Вытянуть16 (cut)
    with BuildSketch(Plane.XY.offset(4)):
        with Locations((0, 22.5)):
            Rectangle(SKETCH_35_W, SKETCH_35_H)
    extrude(amount=-CUT_EXTRUDE_16_DEPTH, mode=Mode.SUBTRACT)

    # Скругление1
    fillet_1_edges = [body_2_1.edges().sort_by_distance(p)[0] for p in [
        (25.5, 26, 7.5),
        (-18, 36, 7.5),
        (18, 36, 7.5),
        (-8, -49.333333333, 7.5),
        (8, -49.333333333, 7.5),
        (-55.902564257, 8.387096774, 7.5),
        (55.902564257, 8.387096774, 7.5),
        (44.73833127, 24.314255983, 7.5),
        (-44.73833127, 24.314255983, 7.5),
        (0, 60, 7.5),
        (-25.5, 26, 7.5),
    ]]
    fillet(fillet_1_edges, radius=FILLET_1_R)


solid = body_2_1.part
